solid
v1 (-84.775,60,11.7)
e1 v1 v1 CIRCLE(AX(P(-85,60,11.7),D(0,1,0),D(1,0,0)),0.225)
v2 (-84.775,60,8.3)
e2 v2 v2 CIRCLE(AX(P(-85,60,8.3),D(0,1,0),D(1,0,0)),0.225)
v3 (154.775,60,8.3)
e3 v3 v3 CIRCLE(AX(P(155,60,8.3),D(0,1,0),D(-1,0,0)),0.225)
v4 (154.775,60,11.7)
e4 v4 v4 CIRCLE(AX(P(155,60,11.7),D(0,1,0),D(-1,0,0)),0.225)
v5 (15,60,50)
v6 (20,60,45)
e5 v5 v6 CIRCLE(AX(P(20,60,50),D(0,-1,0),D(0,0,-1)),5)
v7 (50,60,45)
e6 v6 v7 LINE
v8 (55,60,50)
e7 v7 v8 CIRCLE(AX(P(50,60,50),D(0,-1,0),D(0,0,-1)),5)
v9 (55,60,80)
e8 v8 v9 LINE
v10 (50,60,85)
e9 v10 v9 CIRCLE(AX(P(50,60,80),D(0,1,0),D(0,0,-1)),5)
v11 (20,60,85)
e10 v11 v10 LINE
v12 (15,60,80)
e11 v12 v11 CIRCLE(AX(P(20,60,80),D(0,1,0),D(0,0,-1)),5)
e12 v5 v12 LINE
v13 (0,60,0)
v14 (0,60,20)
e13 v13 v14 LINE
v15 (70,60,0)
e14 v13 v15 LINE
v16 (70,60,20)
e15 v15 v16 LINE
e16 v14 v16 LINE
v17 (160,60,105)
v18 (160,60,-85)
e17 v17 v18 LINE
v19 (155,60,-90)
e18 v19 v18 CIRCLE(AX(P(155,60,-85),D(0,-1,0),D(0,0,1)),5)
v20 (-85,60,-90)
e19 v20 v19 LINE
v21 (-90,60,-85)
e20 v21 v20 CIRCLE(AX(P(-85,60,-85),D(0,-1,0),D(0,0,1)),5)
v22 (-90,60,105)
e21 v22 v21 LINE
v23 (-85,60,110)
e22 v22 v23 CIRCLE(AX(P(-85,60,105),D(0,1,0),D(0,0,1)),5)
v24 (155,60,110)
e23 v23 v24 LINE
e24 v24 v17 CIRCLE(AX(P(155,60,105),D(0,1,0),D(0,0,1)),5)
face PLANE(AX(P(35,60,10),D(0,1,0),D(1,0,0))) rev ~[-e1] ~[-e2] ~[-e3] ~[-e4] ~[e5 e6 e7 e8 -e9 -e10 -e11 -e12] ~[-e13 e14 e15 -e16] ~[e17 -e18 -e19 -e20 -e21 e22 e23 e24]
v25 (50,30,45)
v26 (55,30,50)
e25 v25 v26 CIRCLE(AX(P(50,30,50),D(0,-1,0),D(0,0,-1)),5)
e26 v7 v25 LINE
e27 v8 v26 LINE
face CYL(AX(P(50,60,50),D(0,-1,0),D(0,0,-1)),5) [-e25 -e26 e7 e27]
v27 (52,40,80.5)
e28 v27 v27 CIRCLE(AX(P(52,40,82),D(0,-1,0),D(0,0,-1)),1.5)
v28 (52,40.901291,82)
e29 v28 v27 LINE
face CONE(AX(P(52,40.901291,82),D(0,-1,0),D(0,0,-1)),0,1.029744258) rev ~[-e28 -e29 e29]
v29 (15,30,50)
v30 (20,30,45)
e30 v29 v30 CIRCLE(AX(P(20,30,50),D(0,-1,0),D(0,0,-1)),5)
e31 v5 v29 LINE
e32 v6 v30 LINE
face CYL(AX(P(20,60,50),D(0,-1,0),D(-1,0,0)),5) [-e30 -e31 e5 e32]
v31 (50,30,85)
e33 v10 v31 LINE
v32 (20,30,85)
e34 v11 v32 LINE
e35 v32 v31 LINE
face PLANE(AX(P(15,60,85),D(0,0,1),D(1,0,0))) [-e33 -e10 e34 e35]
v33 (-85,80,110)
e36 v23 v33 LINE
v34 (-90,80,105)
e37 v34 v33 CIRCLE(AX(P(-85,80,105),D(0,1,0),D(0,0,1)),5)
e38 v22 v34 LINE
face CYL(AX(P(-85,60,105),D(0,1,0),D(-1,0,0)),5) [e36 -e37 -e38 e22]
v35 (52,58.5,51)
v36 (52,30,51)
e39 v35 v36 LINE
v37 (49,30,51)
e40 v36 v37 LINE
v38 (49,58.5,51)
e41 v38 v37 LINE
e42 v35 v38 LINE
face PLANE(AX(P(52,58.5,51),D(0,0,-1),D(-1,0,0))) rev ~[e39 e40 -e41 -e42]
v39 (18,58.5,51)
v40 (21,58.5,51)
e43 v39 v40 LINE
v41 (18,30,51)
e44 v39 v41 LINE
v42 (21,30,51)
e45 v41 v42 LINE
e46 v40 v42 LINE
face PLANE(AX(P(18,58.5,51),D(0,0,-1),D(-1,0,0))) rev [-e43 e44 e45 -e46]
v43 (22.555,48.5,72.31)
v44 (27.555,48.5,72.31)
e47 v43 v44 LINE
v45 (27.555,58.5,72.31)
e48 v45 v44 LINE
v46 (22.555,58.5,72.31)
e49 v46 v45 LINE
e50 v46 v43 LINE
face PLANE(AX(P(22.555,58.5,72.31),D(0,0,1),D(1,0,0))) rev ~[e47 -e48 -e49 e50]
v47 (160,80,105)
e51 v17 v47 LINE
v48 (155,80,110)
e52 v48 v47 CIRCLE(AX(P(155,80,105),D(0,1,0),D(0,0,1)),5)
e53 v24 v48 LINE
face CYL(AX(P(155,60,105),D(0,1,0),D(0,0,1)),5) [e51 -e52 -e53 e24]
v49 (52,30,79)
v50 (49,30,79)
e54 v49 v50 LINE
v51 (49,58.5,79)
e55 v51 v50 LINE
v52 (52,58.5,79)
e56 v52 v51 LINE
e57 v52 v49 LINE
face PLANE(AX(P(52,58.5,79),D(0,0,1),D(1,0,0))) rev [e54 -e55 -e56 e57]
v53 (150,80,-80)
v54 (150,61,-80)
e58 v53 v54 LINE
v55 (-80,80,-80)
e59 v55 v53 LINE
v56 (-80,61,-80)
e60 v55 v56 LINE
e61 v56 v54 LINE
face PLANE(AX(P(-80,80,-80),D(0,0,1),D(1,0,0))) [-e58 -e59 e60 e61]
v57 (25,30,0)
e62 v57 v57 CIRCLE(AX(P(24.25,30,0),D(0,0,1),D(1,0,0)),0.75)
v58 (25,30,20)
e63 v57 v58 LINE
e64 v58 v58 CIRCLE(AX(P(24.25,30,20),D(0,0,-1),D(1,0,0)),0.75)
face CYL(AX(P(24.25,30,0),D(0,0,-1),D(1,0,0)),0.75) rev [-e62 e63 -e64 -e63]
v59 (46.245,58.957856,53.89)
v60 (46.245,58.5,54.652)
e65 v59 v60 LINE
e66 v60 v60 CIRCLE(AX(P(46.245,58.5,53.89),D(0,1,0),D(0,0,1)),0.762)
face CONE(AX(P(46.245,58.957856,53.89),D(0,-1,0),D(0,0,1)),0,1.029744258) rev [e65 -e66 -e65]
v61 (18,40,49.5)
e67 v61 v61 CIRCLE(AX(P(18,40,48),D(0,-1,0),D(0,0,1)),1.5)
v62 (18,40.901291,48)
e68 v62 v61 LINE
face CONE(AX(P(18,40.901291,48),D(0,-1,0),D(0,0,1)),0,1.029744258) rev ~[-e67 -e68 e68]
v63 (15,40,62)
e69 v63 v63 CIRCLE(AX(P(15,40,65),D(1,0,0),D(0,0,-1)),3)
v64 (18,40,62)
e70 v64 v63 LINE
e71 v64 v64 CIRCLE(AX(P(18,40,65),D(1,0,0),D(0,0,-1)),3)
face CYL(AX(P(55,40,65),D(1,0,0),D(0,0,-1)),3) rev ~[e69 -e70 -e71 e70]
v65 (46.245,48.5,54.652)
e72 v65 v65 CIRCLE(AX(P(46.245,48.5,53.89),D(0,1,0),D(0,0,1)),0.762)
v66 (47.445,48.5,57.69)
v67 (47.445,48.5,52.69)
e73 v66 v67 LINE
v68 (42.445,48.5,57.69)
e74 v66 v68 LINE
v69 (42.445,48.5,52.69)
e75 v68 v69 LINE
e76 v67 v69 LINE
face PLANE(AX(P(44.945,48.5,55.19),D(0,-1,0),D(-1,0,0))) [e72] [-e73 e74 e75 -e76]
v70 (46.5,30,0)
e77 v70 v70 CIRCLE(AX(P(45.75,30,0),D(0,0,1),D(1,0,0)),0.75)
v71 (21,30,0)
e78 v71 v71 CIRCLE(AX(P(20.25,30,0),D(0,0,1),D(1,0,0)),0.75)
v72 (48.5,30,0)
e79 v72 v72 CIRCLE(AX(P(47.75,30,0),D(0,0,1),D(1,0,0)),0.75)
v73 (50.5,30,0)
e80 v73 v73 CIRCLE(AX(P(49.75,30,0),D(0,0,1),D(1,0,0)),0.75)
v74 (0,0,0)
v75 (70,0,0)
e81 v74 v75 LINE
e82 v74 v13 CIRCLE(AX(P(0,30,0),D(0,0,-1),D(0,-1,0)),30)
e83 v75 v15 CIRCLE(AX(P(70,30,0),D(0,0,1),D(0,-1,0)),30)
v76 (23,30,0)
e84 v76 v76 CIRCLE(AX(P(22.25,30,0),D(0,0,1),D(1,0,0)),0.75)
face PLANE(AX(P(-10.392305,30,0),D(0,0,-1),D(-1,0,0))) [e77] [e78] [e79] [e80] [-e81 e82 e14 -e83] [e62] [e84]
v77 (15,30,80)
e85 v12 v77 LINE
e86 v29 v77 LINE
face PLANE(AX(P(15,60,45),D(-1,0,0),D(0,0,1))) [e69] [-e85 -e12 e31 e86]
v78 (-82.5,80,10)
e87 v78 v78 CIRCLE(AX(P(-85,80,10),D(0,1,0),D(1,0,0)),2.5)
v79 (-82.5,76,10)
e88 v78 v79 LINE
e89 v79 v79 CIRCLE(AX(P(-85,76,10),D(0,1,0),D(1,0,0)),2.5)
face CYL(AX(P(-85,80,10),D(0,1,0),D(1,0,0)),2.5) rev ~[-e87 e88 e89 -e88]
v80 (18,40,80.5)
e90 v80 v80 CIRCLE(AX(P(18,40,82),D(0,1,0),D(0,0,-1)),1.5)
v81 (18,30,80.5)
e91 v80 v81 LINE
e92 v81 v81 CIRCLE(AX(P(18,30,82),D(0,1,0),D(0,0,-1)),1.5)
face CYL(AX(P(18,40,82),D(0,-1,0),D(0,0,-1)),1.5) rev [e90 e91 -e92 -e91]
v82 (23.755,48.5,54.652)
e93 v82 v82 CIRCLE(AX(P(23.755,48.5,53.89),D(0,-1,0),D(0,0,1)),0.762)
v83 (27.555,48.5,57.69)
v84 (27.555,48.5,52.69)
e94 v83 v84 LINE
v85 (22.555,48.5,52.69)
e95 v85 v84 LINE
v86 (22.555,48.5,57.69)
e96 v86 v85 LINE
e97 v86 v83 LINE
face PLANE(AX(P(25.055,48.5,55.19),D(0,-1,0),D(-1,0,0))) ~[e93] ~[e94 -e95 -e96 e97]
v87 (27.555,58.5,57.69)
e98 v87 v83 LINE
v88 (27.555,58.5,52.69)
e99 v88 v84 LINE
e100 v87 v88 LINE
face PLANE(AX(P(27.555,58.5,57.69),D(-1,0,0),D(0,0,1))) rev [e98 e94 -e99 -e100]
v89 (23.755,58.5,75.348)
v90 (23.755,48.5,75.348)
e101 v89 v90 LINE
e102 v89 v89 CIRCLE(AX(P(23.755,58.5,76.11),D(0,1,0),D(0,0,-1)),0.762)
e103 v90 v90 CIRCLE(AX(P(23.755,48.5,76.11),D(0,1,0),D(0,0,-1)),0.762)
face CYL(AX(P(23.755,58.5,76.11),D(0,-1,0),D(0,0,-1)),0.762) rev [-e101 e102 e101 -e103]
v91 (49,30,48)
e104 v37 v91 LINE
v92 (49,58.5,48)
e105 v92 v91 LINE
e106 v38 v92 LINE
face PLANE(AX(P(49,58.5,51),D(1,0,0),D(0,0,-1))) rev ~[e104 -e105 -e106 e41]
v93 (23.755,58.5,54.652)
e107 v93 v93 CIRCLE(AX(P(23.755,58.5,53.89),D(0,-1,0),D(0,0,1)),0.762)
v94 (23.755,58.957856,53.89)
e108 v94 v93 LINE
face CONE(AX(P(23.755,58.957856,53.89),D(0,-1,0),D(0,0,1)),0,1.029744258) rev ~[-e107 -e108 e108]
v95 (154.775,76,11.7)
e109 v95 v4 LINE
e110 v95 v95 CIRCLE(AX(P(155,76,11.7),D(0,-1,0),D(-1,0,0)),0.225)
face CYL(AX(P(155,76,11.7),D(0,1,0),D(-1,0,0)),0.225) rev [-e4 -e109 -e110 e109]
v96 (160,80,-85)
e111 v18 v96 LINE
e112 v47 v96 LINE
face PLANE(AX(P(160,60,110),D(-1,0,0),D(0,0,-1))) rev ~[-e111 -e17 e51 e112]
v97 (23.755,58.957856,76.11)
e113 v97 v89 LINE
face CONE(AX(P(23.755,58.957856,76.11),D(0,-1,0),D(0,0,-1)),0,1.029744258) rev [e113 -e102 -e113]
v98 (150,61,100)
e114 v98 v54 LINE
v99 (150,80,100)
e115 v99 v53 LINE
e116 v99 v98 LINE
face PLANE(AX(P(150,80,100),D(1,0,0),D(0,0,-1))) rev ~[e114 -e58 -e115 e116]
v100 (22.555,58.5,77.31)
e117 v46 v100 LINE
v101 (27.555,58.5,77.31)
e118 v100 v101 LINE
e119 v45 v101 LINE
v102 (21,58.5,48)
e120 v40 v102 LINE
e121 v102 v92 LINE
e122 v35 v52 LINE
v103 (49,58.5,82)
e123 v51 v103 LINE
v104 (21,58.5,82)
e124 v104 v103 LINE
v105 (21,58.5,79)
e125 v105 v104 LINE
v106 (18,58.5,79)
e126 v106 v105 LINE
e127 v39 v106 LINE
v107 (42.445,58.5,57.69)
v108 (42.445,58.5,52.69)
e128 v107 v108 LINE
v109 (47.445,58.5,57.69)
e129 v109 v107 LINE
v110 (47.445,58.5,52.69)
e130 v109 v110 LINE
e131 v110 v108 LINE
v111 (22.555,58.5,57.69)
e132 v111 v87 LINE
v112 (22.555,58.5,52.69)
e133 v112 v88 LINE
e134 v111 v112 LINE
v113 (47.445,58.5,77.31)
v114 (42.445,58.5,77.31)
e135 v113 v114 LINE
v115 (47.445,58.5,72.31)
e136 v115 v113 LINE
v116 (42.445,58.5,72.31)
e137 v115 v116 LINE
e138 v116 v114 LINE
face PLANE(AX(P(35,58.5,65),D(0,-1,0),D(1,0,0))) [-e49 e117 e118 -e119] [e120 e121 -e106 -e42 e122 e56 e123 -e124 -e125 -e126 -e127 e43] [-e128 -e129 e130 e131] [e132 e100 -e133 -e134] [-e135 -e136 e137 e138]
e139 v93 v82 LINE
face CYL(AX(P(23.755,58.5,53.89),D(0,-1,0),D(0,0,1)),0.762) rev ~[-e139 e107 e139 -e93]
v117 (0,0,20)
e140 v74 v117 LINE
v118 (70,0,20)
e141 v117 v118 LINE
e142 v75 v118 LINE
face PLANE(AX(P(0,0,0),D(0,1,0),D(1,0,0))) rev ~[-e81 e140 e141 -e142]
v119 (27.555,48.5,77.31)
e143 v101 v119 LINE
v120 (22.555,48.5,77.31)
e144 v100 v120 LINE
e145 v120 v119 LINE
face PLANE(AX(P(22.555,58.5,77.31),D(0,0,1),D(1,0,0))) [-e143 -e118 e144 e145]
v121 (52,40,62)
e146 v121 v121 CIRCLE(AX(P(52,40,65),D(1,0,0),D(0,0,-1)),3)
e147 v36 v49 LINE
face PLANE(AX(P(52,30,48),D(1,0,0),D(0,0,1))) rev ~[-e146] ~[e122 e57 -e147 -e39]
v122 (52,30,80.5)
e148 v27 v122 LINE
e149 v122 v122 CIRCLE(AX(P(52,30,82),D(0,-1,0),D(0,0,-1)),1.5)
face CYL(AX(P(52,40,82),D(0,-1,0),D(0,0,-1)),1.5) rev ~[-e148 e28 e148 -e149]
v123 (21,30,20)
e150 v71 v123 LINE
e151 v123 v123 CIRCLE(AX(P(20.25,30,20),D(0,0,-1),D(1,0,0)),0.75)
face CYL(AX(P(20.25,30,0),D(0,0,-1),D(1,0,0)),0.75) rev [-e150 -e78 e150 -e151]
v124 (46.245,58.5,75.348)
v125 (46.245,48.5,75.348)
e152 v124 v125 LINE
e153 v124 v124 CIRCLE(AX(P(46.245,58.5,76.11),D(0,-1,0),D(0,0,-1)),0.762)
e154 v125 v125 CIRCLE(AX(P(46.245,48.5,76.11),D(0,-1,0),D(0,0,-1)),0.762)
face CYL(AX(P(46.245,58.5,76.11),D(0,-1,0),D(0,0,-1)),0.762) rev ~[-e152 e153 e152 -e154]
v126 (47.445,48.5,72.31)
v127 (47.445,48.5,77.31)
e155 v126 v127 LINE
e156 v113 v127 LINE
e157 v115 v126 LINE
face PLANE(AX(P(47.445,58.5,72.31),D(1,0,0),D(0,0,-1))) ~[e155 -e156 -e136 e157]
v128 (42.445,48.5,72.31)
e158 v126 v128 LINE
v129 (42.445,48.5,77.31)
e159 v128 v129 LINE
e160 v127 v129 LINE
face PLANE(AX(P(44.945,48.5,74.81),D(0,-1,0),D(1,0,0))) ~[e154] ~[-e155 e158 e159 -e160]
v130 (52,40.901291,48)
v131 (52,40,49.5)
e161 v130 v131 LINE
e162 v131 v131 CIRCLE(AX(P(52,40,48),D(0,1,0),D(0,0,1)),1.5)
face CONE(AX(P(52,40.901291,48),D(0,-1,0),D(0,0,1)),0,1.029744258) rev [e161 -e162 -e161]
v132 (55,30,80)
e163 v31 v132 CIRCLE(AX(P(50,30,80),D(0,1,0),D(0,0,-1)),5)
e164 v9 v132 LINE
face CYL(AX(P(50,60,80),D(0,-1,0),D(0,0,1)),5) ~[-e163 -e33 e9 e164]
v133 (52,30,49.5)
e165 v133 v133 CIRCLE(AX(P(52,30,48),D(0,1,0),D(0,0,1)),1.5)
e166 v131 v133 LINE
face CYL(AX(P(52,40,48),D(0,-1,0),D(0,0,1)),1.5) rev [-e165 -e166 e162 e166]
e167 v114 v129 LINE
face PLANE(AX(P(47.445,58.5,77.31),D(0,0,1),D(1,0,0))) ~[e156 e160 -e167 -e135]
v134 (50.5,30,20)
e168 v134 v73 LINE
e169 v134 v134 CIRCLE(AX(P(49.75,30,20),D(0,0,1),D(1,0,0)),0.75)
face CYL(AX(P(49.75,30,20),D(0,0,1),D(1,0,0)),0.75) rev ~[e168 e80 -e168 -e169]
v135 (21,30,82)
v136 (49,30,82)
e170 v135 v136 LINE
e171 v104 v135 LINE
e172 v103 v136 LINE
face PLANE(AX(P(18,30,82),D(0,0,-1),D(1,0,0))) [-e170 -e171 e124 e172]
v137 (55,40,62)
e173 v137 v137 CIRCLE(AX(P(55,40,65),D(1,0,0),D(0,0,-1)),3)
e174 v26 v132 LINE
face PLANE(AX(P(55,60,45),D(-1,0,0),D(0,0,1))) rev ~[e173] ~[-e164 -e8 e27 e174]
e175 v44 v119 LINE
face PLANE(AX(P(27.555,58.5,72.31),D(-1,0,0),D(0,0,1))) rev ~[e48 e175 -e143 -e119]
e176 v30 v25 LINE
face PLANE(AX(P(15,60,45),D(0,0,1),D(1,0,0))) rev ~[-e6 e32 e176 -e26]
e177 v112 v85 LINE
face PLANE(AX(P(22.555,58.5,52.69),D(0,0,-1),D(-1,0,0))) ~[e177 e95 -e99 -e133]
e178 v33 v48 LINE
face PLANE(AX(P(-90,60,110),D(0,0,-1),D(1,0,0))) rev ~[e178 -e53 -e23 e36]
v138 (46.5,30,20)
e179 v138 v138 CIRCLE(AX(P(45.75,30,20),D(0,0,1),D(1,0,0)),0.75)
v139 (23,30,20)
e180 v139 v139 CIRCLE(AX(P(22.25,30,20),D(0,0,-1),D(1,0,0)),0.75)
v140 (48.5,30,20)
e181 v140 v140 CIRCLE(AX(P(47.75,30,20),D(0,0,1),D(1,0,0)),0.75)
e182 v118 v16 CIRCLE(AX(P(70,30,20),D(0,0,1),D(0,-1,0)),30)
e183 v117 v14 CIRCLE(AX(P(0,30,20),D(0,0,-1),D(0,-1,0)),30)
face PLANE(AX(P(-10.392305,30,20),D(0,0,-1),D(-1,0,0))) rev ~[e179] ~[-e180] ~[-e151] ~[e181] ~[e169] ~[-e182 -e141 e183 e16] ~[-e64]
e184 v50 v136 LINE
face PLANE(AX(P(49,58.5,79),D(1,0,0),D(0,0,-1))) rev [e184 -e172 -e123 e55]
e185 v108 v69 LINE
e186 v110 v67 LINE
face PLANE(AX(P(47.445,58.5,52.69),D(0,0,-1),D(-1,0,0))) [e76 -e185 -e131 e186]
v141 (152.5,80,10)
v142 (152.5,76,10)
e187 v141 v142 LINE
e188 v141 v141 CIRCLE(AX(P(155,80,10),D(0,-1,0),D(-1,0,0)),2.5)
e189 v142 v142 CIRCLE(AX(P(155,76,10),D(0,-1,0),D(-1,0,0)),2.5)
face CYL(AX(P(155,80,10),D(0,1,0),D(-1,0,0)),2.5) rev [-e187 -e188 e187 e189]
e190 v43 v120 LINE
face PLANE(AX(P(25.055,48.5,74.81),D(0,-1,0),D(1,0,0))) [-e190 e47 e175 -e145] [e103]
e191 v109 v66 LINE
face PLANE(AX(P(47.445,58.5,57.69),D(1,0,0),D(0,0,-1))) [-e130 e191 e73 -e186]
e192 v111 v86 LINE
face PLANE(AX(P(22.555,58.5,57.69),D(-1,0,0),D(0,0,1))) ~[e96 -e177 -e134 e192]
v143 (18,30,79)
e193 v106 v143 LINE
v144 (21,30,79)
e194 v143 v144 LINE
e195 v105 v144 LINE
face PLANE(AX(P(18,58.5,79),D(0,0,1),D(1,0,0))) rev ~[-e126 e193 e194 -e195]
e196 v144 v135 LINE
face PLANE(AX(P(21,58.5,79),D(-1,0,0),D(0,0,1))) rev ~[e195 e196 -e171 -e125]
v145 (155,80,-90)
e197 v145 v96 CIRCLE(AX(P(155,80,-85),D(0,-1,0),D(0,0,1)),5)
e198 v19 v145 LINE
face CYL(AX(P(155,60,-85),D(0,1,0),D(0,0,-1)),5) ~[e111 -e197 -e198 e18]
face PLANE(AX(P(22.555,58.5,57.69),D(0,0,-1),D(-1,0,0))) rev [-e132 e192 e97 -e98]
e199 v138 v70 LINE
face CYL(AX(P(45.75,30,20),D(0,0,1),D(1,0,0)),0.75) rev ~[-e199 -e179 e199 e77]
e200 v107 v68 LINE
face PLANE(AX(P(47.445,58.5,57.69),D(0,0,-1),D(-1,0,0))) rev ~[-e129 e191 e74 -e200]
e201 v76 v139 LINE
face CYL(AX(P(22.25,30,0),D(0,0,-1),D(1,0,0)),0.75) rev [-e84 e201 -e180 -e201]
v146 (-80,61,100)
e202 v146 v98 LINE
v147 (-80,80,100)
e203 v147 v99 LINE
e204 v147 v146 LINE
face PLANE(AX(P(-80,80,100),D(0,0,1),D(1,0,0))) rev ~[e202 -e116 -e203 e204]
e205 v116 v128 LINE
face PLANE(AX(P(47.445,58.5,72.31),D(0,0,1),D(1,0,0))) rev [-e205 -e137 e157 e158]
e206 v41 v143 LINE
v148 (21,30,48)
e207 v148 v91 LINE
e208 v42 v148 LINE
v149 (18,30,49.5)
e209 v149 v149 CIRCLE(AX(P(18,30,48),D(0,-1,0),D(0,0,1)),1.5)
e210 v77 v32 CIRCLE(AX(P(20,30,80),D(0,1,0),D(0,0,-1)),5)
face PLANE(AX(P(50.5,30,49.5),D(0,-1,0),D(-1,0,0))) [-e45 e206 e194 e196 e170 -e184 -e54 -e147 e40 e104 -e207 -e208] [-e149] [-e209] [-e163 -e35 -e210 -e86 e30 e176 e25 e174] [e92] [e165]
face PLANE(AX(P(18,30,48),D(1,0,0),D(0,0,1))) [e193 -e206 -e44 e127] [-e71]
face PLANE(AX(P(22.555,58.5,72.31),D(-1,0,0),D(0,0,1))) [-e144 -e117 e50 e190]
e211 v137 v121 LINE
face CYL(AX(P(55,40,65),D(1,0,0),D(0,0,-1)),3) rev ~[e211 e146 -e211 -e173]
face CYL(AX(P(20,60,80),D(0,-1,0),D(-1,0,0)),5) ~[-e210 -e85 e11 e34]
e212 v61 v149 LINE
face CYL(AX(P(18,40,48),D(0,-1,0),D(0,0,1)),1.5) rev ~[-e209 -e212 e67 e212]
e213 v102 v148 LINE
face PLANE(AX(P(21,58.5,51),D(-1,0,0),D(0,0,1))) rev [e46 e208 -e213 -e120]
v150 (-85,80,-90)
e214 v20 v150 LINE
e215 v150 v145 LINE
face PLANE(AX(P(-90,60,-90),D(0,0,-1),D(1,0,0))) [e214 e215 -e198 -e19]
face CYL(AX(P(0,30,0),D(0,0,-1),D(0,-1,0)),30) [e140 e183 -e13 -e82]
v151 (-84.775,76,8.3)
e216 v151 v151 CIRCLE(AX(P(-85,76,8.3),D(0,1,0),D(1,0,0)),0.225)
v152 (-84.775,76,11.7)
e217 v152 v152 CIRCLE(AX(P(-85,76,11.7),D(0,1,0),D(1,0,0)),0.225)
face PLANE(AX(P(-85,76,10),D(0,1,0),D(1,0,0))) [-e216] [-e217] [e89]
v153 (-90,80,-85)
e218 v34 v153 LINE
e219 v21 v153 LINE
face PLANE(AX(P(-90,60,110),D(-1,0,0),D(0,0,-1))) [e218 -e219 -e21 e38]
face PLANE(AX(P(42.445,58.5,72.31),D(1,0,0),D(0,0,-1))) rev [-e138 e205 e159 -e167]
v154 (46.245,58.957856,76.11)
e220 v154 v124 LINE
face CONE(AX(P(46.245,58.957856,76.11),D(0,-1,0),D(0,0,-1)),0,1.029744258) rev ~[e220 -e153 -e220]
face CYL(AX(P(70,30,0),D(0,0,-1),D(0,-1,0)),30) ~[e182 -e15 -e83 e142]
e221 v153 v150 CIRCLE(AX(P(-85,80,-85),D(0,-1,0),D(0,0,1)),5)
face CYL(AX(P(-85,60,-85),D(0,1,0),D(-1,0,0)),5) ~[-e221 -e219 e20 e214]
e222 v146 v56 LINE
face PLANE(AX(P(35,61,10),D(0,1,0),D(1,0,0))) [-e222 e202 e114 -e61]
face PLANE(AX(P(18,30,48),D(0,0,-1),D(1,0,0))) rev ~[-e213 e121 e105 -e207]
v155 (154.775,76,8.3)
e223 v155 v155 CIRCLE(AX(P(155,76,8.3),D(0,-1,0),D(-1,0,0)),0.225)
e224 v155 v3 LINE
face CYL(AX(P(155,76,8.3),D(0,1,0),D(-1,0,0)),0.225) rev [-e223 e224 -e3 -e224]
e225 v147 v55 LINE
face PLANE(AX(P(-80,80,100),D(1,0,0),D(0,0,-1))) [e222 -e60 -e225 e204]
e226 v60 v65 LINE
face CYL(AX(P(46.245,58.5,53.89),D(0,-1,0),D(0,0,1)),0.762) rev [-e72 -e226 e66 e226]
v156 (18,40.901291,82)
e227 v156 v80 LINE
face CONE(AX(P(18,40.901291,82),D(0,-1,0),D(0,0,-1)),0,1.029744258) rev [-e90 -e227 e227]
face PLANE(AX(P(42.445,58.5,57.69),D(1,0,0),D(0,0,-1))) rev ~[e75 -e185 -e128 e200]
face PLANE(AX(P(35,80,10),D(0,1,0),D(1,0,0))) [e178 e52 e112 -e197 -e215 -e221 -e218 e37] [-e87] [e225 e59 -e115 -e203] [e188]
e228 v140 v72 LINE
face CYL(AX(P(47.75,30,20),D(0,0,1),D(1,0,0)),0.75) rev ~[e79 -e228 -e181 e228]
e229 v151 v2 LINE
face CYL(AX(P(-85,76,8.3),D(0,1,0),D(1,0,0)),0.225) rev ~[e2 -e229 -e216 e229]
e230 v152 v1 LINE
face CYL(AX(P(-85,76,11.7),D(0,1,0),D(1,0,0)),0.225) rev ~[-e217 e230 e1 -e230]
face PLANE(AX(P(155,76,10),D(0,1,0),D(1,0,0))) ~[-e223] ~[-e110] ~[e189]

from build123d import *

# Parameters (mm, degrees)
SKETCH3_W               = 70
SKETCH3_H               = 60
BOSS_EXTRUDE1_DEPTH     = 20
BOSS_EXTRUDE2_DEPTH     = 20
SKETCH5_R               = 0.75
CUT_EXTRUDE1_DEPTH      = 119.321595662
SKETCH7_R               = 0.75
CUT_EXTRUDE2_DEPTH      = 119.321595662
LPATTERN2_COUNT         = 3
LPATTERN2_PITCH         = 2
LPATTERN3_COUNT         = 3
LPATTERN3_PITCH         = 2
SKETCH8_W               = 250
SKETCH8_H               = 200
BOSS_EXTRUDE3_DEPTH     = 20
SKETCH9_W               = 230
SKETCH9_H               = 180
CUT_EXTRUDE3_DEPTH      = 19
SKETCH10_W              = 40
SKETCH10_H              = 40
BOSS_EXTRUDE4_DEPTH     = 30
SKETCH11_W              = 34
SKETCH11_H              = 34
CUT_EXTRUDE4_DEPTH      = 28.5
SKETCH19_W              = 5
SKETCH19_H              = 5
BOSS_EXTRUDE5_DEPTH     = 10
MIRROR2_COPY_1_SKETCH_W = 5
MIRROR2_COPY_1_SKETCH_H = 5
MIRROR2_COPY_1_DEPTH    = 10
MIRROR2_COPY_3_SKETCH_W = 5
MIRROR2_COPY_3_SKETCH_H = 5
MIRROR2_COPY_3_DEPTH    = 10
SKETCH23_W              = 3
SKETCH23_H              = 3
BOSS_EXTRUDE6_DEPTH     = 28.5
MIRROR4_COPY_1_SKETCH_W = 3
MIRROR4_COPY_1_SKETCH_H = 3
MIRROR4_COPY_1_DEPTH    = 28.5
MIRROR4_COPY_2_SKETCH_W = 3
MIRROR4_COPY_2_SKETCH_H = 3
MIRROR4_COPY_2_DEPTH    = 28.5
SKETCH27_R              = 3
CUT_EXTRUDE5_DEPTH      = 199.808953521
SKETCH28_R              = 2.5
CUT_EXTRUDE6_DEPTH      = 4
SKETCH29_R              = 0.225
CUT_EXTRUDE7_DEPTH      = 209.508992612
SKETCH30_R              = 0.225
CUT_EXTRUDE8_DEPTH      = 209.508992612
FILLET1_R               = 5
FILLET2_R               = 5


with BuildPart() as part:
    # Sketch3 → Boss-Extrude1 (new body)
    with BuildSketch(Plane.XY):
        with Locations((35, 30)):
            Rectangle(SKETCH3_W, SKETCH3_H)
    extrude(amount=BOSS_EXTRUDE1_DEPTH)

    # Sketch4 → Boss-Extrude2 (add)
    with BuildSketch(Plane.XY):
        with BuildLine():
            Line((0, 60), (0, 0))
            ThreePointArc((0, 0), (-30, 30), (0, 60))
        make_face()
        with BuildLine():
            Line((70, 60), (70, 0))
            ThreePointArc((70, 0), (100, 30), (70, 60))
        make_face()
    extrude(amount=BOSS_EXTRUDE2_DEPTH)

    # Sketch5 → Cut-Extrude1 (cut, through all)
    with BuildSketch(Plane.XY):
        with Locations((20.25, 30)):
            Circle(SKETCH5_R)
    cut_extrude1 = extrude(amount=CUT_EXTRUDE1_DEPTH, mode=Mode.SUBTRACT)

    # Sketch7 → Cut-Extrude2 (cut, through all)
    with BuildSketch(Plane.XY.offset(20)):
        with Locations((49.75, 30)):
            Circle(SKETCH7_R)
    cut_extrude2 = extrude(amount=-CUT_EXTRUDE2_DEPTH, mode=Mode.SUBTRACT)

    # LPattern2: Cut-Extrude1 ×3
    with Locations(*[(i * LPATTERN2_PITCH, 0, 0) for i in range(1, LPATTERN2_COUNT)]):
        add(cut_extrude1, mode=Mode.SUBTRACT)

    # LPattern3: Cut-Extrude2 ×3
    with Locations(*[(-i * LPATTERN3_PITCH, 0, 0) for i in range(1, LPATTERN3_COUNT)]):
        add(cut_extrude2, mode=Mode.SUBTRACT)

    # Sketch8 → Boss-Extrude3 (add)
    with BuildSketch(Plane(origin=(0, 60, 0), x_dir=(1, 0, 0), z_dir=(0, 1, 0))):
        with Locations((35, -10)):
            Rectangle(SKETCH8_W, SKETCH8_H)
    extrude(amount=BOSS_EXTRUDE3_DEPTH)

    # Sketch9 → Cut-Extrude3 (cut)
    with BuildSketch(Plane(origin=(0, 80, 0), x_dir=(1, 0, 0), z_dir=(0, 1, 0))):
        with Locations((35, -10)):
            Rectangle(SKETCH9_W, SKETCH9_H)
    extrude(amount=-CUT_EXTRUDE3_DEPTH, mode=Mode.SUBTRACT)

    # Sketch10 → Boss-Extrude4 (add)
    with BuildSketch(Plane.XZ.offset(-60)):
        with Locations((35, 65)):
            Rectangle(SKETCH10_W, SKETCH10_H)
    extrude(amount=BOSS_EXTRUDE4_DEPTH)

    # Sketch11 → Cut-Extrude4 (cut)
    with BuildSketch(Plane.XZ.offset(-30)):
        with Locations((35, 65)):
            Rectangle(SKETCH11_W, SKETCH11_H)
    extrude(amount=-CUT_EXTRUDE4_DEPTH, mode=Mode.SUBTRACT)

    # Sketch19 → Boss-Extrude5 (add)
    with BuildSketch(Plane.XZ.offset(-58.5)):
        with Locations((25.055, 74.81)):
            Rectangle(SKETCH19_W, SKETCH19_H)
    boss_extrude5 = extrude(amount=BOSS_EXTRUDE5_DEPTH)

    # Sketch22 → Ø3.0mm Dowel Hole1 (revolve, cut)
    with BuildSketch(Plane(origin=(23.755, 48.5, 76.11), x_dir=(0, 0, -1), z_dir=(1, 0, 0))):
        Polygon((0, 0), (0, 10.457855792), (0.762, 10), (0.762, 0), align=None)
    f_3_0mm_dowel_hole1 = revolve(axis=Axis((23.755, 42.15, 76.11), (0, 1, 0)), mode=Mode.SUBTRACT)

    # Mirror1: Boss-Extrude5, Ø3.0mm Dowel Hole1 across plane
    add(boss_extrude5.mirror(Plane(origin=(35, 0, 0), x_dir=(0, 0, 1), z_dir=(1, 0, 0))))
    add(f_3_0mm_dowel_hole1.mirror(Plane(origin=(35, 0, 0), x_dir=(0, 0, 1), z_dir=(1, 0, 0))), mode=Mode.SUBTRACT)

    # Mirror2 copy 1 sketch → Mirror2 copy 1 (add)
    with BuildSketch(Plane(origin=(70, 58.5, 130), x_dir=(-1, 0, 0), z_dir=(0, -1, 0))):
        with Locations((25.055, 74.81)):
            Rectangle(MIRROR2_COPY_1_SKETCH_W, MIRROR2_COPY_1_SKETCH_H)
    extrude(amount=MIRROR2_COPY_1_DEPTH)

    # Mirror2 copy 2 sketch → Mirror2 copy 2 (revolve, cut)
    with BuildSketch(Plane(origin=(46.245, 48.5, 53.89), x_dir=(0, 0, 1), z_dir=(-1, 0, 0))):
        Polygon((0, 0), (0, 10.457855792), (0.762, 10), (0.762, 0), align=None)
    revolve(axis=Axis((46.245, 42.15, 53.89), (0, 1, 0)), mode=Mode.SUBTRACT)

    # Mirror2 copy 3 sketch → Mirror2 copy 3 (add)
    with BuildSketch(Plane(origin=(0, 58.5, 130), x_dir=(1, 0, 0), z_dir=(0, -1, 0))):
        with Locations((25.055, -74.81)):
            Rectangle(MIRROR2_COPY_3_SKETCH_W, MIRROR2_COPY_3_SKETCH_H)
    extrude(amount=MIRROR2_COPY_3_DEPTH)

    # Mirror2 copy 4 sketch → Mirror2 copy 4 (revolve, cut)
    with BuildSketch(Plane(origin=(23.755, 48.5, 53.89), x_dir=(0, 0, 1), z_dir=(1, 0, 0))):
        Polygon((0, 0), (0, -10.457855792), (0.762, -10), (0.762, 0), align=None)
    revolve(axis=Axis((23.755, 42.15, 53.89), (0, -1, 0)), mode=Mode.SUBTRACT)

    # Sketch23 → Boss-Extrude6 (add)
    with BuildSketch(Plane.XZ.offset(-58.5)):
        with Locations((19.5, 80.5)):
            Rectangle(SKETCH23_W, SKETCH23_H)
    boss_extrude6 = extrude(amount=BOSS_EXTRUDE6_DEPTH)

    # Mirror3: Boss-Extrude6 across plane
    add(boss_extrude6.mirror(Plane.XY.offset(65)))

    # Mirror4 copy 1 sketch → Mirror4 copy 1 (add)
    with BuildSketch(Plane(origin=(70, 58.5, 130), x_dir=(-1, 0, 0), z_dir=(0, -1, 0))):
        with Locations((19.5, 80.5)):
            Rectangle(MIRROR4_COPY_1_SKETCH_W, MIRROR4_COPY_1_SKETCH_H)
    extrude(amount=MIRROR4_COPY_1_DEPTH)

    # Mirror4 copy 2 sketch → Mirror4 copy 2 (add)
    with BuildSketch(Plane(origin=(70, 58.5, 0), x_dir=(-1, 0, 0), z_dir=(0, -1, 0))):
        with Locations((19.5, -80.5)):
            Rectangle(MIRROR4_COPY_2_SKETCH_W, MIRROR4_COPY_2_SKETCH_H)
    extrude(amount=MIRROR4_COPY_2_DEPTH)

    # Sketch26 → Ø3.0mm Dowel Hole2 (revolve, cut)
    with BuildSketch(Plane(origin=(18, 30, 82), x_dir=(0, 0, -1), z_dir=(1, 0, 0))):
        Polygon((0, 0), (0, 10.901290929), (1.5, 10), (1.5, 0), align=None)
    f_3_0mm_dowel_hole2 = revolve(axis=Axis((18, 23.65, 82), (0, 1, 0)), mode=Mode.SUBTRACT)

    # Mirror5: Ø3.0mm Dowel Hole2 across plane
    add(f_3_0mm_dowel_hole2.mirror(Plane.XY.offset(65)), mode=Mode.SUBTRACT)

    # Mirror6 copy 1 sketch → Mirror6 copy 1 (revolve, cut)
    with BuildSketch(Plane(origin=(52, 30, 48), x_dir=(0, 0, 1), z_dir=(-1, 0, 0))):
        Polygon((0, 0), (0, 10.901290929), (1.5, 10), (1.5, 0), align=None)
    revolve(axis=Axis((52, 23.65, 48), (0, 1, 0)), mode=Mode.SUBTRACT)

    # Mirror6 copy 2 sketch → Mirror6 copy 2 (revolve, cut)
    with BuildSketch(Plane(origin=(52, 30, 82), x_dir=(0, 0, -1), z_dir=(-1, 0, 0))):
        Polygon((0, 0), (0, -10.901290929), (1.5, -10), (1.5, 0), align=None)
    revolve(axis=Axis((52, 23.65, 82), (0, -1, 0)), mode=Mode.SUBTRACT)

    # Sketch27 → Cut-Extrude5 (cut, through all)
    with BuildSketch(Plane(origin=(55, 0, 0), x_dir=(0, 0, -1), z_dir=(1, 0, 0))):
        with Locations((-65, 40)):
            Circle(SKETCH27_R)
    extrude(amount=-CUT_EXTRUDE5_DEPTH, mode=Mode.SUBTRACT)

    # Sketch28 → Cut-Extrude6 (cut)
    with BuildSketch(Plane(origin=(0, 80, 0), x_dir=(1, 0, 0), z_dir=(0, 1, 0))):
        with Locations((-85, -10)):
            Circle(SKETCH28_R)
    cut_extrude6 = extrude(amount=-CUT_EXTRUDE6_DEPTH, mode=Mode.SUBTRACT)

    # Sketch29 → Cut-Extrude7 (cut, through all)
    with BuildSketch(Plane(origin=(0, 76, 0), x_dir=(1, 0, 0), z_dir=(0, 1, 0))):
        with Locations((-85, -8.3)):
            Circle(SKETCH29_R)
    cut_extrude7 = extrude(amount=-CUT_EXTRUDE7_DEPTH, mode=Mode.SUBTRACT)

    # Sketch30 → Cut-Extrude8 (cut, through all)
    with BuildSketch(Plane(origin=(0, 76, 0), x_dir=(1, 0, 0), z_dir=(0, 1, 0))):
        with Locations((-85, -11.7)):
            Circle(SKETCH30_R)
    cut_extrude8 = extrude(amount=-CUT_EXTRUDE8_DEPTH, mode=Mode.SUBTRACT)

    # Mirror7: Cut-Extrude6, Cut-Extrude7, Cut-Extrude8 across plane
    add(cut_extrude6.mirror(Plane.ZY.offset(-35)), mode=Mode.SUBTRACT)
    add(cut_extrude7.mirror(Plane.ZY.offset(-35)), mode=Mode.SUBTRACT)
    add(cut_extrude8.mirror(Plane.ZY.offset(-35)), mode=Mode.SUBTRACT)

    # Fillet1
    fillet1_edges = [part.edges().sort_by_distance(p)[0] for p in [
        (-90, 70, -90),
        (-90, 70, 110),
        (160, 70, 110),
        (160, 70, -90),
    ]]
    fillet(fillet1_edges, radius=FILLET1_R)

    # Fillet2
    fillet2_edges = [part.edges().sort_by_distance(p)[0] for p in [
        (55, 45, 45),
        (55, 45, 85),
        (15, 45, 45),
        (15, 45, 85),
    ]]
    fillet(fillet2_edges, radius=FILLET2_R)


solid = part.part
